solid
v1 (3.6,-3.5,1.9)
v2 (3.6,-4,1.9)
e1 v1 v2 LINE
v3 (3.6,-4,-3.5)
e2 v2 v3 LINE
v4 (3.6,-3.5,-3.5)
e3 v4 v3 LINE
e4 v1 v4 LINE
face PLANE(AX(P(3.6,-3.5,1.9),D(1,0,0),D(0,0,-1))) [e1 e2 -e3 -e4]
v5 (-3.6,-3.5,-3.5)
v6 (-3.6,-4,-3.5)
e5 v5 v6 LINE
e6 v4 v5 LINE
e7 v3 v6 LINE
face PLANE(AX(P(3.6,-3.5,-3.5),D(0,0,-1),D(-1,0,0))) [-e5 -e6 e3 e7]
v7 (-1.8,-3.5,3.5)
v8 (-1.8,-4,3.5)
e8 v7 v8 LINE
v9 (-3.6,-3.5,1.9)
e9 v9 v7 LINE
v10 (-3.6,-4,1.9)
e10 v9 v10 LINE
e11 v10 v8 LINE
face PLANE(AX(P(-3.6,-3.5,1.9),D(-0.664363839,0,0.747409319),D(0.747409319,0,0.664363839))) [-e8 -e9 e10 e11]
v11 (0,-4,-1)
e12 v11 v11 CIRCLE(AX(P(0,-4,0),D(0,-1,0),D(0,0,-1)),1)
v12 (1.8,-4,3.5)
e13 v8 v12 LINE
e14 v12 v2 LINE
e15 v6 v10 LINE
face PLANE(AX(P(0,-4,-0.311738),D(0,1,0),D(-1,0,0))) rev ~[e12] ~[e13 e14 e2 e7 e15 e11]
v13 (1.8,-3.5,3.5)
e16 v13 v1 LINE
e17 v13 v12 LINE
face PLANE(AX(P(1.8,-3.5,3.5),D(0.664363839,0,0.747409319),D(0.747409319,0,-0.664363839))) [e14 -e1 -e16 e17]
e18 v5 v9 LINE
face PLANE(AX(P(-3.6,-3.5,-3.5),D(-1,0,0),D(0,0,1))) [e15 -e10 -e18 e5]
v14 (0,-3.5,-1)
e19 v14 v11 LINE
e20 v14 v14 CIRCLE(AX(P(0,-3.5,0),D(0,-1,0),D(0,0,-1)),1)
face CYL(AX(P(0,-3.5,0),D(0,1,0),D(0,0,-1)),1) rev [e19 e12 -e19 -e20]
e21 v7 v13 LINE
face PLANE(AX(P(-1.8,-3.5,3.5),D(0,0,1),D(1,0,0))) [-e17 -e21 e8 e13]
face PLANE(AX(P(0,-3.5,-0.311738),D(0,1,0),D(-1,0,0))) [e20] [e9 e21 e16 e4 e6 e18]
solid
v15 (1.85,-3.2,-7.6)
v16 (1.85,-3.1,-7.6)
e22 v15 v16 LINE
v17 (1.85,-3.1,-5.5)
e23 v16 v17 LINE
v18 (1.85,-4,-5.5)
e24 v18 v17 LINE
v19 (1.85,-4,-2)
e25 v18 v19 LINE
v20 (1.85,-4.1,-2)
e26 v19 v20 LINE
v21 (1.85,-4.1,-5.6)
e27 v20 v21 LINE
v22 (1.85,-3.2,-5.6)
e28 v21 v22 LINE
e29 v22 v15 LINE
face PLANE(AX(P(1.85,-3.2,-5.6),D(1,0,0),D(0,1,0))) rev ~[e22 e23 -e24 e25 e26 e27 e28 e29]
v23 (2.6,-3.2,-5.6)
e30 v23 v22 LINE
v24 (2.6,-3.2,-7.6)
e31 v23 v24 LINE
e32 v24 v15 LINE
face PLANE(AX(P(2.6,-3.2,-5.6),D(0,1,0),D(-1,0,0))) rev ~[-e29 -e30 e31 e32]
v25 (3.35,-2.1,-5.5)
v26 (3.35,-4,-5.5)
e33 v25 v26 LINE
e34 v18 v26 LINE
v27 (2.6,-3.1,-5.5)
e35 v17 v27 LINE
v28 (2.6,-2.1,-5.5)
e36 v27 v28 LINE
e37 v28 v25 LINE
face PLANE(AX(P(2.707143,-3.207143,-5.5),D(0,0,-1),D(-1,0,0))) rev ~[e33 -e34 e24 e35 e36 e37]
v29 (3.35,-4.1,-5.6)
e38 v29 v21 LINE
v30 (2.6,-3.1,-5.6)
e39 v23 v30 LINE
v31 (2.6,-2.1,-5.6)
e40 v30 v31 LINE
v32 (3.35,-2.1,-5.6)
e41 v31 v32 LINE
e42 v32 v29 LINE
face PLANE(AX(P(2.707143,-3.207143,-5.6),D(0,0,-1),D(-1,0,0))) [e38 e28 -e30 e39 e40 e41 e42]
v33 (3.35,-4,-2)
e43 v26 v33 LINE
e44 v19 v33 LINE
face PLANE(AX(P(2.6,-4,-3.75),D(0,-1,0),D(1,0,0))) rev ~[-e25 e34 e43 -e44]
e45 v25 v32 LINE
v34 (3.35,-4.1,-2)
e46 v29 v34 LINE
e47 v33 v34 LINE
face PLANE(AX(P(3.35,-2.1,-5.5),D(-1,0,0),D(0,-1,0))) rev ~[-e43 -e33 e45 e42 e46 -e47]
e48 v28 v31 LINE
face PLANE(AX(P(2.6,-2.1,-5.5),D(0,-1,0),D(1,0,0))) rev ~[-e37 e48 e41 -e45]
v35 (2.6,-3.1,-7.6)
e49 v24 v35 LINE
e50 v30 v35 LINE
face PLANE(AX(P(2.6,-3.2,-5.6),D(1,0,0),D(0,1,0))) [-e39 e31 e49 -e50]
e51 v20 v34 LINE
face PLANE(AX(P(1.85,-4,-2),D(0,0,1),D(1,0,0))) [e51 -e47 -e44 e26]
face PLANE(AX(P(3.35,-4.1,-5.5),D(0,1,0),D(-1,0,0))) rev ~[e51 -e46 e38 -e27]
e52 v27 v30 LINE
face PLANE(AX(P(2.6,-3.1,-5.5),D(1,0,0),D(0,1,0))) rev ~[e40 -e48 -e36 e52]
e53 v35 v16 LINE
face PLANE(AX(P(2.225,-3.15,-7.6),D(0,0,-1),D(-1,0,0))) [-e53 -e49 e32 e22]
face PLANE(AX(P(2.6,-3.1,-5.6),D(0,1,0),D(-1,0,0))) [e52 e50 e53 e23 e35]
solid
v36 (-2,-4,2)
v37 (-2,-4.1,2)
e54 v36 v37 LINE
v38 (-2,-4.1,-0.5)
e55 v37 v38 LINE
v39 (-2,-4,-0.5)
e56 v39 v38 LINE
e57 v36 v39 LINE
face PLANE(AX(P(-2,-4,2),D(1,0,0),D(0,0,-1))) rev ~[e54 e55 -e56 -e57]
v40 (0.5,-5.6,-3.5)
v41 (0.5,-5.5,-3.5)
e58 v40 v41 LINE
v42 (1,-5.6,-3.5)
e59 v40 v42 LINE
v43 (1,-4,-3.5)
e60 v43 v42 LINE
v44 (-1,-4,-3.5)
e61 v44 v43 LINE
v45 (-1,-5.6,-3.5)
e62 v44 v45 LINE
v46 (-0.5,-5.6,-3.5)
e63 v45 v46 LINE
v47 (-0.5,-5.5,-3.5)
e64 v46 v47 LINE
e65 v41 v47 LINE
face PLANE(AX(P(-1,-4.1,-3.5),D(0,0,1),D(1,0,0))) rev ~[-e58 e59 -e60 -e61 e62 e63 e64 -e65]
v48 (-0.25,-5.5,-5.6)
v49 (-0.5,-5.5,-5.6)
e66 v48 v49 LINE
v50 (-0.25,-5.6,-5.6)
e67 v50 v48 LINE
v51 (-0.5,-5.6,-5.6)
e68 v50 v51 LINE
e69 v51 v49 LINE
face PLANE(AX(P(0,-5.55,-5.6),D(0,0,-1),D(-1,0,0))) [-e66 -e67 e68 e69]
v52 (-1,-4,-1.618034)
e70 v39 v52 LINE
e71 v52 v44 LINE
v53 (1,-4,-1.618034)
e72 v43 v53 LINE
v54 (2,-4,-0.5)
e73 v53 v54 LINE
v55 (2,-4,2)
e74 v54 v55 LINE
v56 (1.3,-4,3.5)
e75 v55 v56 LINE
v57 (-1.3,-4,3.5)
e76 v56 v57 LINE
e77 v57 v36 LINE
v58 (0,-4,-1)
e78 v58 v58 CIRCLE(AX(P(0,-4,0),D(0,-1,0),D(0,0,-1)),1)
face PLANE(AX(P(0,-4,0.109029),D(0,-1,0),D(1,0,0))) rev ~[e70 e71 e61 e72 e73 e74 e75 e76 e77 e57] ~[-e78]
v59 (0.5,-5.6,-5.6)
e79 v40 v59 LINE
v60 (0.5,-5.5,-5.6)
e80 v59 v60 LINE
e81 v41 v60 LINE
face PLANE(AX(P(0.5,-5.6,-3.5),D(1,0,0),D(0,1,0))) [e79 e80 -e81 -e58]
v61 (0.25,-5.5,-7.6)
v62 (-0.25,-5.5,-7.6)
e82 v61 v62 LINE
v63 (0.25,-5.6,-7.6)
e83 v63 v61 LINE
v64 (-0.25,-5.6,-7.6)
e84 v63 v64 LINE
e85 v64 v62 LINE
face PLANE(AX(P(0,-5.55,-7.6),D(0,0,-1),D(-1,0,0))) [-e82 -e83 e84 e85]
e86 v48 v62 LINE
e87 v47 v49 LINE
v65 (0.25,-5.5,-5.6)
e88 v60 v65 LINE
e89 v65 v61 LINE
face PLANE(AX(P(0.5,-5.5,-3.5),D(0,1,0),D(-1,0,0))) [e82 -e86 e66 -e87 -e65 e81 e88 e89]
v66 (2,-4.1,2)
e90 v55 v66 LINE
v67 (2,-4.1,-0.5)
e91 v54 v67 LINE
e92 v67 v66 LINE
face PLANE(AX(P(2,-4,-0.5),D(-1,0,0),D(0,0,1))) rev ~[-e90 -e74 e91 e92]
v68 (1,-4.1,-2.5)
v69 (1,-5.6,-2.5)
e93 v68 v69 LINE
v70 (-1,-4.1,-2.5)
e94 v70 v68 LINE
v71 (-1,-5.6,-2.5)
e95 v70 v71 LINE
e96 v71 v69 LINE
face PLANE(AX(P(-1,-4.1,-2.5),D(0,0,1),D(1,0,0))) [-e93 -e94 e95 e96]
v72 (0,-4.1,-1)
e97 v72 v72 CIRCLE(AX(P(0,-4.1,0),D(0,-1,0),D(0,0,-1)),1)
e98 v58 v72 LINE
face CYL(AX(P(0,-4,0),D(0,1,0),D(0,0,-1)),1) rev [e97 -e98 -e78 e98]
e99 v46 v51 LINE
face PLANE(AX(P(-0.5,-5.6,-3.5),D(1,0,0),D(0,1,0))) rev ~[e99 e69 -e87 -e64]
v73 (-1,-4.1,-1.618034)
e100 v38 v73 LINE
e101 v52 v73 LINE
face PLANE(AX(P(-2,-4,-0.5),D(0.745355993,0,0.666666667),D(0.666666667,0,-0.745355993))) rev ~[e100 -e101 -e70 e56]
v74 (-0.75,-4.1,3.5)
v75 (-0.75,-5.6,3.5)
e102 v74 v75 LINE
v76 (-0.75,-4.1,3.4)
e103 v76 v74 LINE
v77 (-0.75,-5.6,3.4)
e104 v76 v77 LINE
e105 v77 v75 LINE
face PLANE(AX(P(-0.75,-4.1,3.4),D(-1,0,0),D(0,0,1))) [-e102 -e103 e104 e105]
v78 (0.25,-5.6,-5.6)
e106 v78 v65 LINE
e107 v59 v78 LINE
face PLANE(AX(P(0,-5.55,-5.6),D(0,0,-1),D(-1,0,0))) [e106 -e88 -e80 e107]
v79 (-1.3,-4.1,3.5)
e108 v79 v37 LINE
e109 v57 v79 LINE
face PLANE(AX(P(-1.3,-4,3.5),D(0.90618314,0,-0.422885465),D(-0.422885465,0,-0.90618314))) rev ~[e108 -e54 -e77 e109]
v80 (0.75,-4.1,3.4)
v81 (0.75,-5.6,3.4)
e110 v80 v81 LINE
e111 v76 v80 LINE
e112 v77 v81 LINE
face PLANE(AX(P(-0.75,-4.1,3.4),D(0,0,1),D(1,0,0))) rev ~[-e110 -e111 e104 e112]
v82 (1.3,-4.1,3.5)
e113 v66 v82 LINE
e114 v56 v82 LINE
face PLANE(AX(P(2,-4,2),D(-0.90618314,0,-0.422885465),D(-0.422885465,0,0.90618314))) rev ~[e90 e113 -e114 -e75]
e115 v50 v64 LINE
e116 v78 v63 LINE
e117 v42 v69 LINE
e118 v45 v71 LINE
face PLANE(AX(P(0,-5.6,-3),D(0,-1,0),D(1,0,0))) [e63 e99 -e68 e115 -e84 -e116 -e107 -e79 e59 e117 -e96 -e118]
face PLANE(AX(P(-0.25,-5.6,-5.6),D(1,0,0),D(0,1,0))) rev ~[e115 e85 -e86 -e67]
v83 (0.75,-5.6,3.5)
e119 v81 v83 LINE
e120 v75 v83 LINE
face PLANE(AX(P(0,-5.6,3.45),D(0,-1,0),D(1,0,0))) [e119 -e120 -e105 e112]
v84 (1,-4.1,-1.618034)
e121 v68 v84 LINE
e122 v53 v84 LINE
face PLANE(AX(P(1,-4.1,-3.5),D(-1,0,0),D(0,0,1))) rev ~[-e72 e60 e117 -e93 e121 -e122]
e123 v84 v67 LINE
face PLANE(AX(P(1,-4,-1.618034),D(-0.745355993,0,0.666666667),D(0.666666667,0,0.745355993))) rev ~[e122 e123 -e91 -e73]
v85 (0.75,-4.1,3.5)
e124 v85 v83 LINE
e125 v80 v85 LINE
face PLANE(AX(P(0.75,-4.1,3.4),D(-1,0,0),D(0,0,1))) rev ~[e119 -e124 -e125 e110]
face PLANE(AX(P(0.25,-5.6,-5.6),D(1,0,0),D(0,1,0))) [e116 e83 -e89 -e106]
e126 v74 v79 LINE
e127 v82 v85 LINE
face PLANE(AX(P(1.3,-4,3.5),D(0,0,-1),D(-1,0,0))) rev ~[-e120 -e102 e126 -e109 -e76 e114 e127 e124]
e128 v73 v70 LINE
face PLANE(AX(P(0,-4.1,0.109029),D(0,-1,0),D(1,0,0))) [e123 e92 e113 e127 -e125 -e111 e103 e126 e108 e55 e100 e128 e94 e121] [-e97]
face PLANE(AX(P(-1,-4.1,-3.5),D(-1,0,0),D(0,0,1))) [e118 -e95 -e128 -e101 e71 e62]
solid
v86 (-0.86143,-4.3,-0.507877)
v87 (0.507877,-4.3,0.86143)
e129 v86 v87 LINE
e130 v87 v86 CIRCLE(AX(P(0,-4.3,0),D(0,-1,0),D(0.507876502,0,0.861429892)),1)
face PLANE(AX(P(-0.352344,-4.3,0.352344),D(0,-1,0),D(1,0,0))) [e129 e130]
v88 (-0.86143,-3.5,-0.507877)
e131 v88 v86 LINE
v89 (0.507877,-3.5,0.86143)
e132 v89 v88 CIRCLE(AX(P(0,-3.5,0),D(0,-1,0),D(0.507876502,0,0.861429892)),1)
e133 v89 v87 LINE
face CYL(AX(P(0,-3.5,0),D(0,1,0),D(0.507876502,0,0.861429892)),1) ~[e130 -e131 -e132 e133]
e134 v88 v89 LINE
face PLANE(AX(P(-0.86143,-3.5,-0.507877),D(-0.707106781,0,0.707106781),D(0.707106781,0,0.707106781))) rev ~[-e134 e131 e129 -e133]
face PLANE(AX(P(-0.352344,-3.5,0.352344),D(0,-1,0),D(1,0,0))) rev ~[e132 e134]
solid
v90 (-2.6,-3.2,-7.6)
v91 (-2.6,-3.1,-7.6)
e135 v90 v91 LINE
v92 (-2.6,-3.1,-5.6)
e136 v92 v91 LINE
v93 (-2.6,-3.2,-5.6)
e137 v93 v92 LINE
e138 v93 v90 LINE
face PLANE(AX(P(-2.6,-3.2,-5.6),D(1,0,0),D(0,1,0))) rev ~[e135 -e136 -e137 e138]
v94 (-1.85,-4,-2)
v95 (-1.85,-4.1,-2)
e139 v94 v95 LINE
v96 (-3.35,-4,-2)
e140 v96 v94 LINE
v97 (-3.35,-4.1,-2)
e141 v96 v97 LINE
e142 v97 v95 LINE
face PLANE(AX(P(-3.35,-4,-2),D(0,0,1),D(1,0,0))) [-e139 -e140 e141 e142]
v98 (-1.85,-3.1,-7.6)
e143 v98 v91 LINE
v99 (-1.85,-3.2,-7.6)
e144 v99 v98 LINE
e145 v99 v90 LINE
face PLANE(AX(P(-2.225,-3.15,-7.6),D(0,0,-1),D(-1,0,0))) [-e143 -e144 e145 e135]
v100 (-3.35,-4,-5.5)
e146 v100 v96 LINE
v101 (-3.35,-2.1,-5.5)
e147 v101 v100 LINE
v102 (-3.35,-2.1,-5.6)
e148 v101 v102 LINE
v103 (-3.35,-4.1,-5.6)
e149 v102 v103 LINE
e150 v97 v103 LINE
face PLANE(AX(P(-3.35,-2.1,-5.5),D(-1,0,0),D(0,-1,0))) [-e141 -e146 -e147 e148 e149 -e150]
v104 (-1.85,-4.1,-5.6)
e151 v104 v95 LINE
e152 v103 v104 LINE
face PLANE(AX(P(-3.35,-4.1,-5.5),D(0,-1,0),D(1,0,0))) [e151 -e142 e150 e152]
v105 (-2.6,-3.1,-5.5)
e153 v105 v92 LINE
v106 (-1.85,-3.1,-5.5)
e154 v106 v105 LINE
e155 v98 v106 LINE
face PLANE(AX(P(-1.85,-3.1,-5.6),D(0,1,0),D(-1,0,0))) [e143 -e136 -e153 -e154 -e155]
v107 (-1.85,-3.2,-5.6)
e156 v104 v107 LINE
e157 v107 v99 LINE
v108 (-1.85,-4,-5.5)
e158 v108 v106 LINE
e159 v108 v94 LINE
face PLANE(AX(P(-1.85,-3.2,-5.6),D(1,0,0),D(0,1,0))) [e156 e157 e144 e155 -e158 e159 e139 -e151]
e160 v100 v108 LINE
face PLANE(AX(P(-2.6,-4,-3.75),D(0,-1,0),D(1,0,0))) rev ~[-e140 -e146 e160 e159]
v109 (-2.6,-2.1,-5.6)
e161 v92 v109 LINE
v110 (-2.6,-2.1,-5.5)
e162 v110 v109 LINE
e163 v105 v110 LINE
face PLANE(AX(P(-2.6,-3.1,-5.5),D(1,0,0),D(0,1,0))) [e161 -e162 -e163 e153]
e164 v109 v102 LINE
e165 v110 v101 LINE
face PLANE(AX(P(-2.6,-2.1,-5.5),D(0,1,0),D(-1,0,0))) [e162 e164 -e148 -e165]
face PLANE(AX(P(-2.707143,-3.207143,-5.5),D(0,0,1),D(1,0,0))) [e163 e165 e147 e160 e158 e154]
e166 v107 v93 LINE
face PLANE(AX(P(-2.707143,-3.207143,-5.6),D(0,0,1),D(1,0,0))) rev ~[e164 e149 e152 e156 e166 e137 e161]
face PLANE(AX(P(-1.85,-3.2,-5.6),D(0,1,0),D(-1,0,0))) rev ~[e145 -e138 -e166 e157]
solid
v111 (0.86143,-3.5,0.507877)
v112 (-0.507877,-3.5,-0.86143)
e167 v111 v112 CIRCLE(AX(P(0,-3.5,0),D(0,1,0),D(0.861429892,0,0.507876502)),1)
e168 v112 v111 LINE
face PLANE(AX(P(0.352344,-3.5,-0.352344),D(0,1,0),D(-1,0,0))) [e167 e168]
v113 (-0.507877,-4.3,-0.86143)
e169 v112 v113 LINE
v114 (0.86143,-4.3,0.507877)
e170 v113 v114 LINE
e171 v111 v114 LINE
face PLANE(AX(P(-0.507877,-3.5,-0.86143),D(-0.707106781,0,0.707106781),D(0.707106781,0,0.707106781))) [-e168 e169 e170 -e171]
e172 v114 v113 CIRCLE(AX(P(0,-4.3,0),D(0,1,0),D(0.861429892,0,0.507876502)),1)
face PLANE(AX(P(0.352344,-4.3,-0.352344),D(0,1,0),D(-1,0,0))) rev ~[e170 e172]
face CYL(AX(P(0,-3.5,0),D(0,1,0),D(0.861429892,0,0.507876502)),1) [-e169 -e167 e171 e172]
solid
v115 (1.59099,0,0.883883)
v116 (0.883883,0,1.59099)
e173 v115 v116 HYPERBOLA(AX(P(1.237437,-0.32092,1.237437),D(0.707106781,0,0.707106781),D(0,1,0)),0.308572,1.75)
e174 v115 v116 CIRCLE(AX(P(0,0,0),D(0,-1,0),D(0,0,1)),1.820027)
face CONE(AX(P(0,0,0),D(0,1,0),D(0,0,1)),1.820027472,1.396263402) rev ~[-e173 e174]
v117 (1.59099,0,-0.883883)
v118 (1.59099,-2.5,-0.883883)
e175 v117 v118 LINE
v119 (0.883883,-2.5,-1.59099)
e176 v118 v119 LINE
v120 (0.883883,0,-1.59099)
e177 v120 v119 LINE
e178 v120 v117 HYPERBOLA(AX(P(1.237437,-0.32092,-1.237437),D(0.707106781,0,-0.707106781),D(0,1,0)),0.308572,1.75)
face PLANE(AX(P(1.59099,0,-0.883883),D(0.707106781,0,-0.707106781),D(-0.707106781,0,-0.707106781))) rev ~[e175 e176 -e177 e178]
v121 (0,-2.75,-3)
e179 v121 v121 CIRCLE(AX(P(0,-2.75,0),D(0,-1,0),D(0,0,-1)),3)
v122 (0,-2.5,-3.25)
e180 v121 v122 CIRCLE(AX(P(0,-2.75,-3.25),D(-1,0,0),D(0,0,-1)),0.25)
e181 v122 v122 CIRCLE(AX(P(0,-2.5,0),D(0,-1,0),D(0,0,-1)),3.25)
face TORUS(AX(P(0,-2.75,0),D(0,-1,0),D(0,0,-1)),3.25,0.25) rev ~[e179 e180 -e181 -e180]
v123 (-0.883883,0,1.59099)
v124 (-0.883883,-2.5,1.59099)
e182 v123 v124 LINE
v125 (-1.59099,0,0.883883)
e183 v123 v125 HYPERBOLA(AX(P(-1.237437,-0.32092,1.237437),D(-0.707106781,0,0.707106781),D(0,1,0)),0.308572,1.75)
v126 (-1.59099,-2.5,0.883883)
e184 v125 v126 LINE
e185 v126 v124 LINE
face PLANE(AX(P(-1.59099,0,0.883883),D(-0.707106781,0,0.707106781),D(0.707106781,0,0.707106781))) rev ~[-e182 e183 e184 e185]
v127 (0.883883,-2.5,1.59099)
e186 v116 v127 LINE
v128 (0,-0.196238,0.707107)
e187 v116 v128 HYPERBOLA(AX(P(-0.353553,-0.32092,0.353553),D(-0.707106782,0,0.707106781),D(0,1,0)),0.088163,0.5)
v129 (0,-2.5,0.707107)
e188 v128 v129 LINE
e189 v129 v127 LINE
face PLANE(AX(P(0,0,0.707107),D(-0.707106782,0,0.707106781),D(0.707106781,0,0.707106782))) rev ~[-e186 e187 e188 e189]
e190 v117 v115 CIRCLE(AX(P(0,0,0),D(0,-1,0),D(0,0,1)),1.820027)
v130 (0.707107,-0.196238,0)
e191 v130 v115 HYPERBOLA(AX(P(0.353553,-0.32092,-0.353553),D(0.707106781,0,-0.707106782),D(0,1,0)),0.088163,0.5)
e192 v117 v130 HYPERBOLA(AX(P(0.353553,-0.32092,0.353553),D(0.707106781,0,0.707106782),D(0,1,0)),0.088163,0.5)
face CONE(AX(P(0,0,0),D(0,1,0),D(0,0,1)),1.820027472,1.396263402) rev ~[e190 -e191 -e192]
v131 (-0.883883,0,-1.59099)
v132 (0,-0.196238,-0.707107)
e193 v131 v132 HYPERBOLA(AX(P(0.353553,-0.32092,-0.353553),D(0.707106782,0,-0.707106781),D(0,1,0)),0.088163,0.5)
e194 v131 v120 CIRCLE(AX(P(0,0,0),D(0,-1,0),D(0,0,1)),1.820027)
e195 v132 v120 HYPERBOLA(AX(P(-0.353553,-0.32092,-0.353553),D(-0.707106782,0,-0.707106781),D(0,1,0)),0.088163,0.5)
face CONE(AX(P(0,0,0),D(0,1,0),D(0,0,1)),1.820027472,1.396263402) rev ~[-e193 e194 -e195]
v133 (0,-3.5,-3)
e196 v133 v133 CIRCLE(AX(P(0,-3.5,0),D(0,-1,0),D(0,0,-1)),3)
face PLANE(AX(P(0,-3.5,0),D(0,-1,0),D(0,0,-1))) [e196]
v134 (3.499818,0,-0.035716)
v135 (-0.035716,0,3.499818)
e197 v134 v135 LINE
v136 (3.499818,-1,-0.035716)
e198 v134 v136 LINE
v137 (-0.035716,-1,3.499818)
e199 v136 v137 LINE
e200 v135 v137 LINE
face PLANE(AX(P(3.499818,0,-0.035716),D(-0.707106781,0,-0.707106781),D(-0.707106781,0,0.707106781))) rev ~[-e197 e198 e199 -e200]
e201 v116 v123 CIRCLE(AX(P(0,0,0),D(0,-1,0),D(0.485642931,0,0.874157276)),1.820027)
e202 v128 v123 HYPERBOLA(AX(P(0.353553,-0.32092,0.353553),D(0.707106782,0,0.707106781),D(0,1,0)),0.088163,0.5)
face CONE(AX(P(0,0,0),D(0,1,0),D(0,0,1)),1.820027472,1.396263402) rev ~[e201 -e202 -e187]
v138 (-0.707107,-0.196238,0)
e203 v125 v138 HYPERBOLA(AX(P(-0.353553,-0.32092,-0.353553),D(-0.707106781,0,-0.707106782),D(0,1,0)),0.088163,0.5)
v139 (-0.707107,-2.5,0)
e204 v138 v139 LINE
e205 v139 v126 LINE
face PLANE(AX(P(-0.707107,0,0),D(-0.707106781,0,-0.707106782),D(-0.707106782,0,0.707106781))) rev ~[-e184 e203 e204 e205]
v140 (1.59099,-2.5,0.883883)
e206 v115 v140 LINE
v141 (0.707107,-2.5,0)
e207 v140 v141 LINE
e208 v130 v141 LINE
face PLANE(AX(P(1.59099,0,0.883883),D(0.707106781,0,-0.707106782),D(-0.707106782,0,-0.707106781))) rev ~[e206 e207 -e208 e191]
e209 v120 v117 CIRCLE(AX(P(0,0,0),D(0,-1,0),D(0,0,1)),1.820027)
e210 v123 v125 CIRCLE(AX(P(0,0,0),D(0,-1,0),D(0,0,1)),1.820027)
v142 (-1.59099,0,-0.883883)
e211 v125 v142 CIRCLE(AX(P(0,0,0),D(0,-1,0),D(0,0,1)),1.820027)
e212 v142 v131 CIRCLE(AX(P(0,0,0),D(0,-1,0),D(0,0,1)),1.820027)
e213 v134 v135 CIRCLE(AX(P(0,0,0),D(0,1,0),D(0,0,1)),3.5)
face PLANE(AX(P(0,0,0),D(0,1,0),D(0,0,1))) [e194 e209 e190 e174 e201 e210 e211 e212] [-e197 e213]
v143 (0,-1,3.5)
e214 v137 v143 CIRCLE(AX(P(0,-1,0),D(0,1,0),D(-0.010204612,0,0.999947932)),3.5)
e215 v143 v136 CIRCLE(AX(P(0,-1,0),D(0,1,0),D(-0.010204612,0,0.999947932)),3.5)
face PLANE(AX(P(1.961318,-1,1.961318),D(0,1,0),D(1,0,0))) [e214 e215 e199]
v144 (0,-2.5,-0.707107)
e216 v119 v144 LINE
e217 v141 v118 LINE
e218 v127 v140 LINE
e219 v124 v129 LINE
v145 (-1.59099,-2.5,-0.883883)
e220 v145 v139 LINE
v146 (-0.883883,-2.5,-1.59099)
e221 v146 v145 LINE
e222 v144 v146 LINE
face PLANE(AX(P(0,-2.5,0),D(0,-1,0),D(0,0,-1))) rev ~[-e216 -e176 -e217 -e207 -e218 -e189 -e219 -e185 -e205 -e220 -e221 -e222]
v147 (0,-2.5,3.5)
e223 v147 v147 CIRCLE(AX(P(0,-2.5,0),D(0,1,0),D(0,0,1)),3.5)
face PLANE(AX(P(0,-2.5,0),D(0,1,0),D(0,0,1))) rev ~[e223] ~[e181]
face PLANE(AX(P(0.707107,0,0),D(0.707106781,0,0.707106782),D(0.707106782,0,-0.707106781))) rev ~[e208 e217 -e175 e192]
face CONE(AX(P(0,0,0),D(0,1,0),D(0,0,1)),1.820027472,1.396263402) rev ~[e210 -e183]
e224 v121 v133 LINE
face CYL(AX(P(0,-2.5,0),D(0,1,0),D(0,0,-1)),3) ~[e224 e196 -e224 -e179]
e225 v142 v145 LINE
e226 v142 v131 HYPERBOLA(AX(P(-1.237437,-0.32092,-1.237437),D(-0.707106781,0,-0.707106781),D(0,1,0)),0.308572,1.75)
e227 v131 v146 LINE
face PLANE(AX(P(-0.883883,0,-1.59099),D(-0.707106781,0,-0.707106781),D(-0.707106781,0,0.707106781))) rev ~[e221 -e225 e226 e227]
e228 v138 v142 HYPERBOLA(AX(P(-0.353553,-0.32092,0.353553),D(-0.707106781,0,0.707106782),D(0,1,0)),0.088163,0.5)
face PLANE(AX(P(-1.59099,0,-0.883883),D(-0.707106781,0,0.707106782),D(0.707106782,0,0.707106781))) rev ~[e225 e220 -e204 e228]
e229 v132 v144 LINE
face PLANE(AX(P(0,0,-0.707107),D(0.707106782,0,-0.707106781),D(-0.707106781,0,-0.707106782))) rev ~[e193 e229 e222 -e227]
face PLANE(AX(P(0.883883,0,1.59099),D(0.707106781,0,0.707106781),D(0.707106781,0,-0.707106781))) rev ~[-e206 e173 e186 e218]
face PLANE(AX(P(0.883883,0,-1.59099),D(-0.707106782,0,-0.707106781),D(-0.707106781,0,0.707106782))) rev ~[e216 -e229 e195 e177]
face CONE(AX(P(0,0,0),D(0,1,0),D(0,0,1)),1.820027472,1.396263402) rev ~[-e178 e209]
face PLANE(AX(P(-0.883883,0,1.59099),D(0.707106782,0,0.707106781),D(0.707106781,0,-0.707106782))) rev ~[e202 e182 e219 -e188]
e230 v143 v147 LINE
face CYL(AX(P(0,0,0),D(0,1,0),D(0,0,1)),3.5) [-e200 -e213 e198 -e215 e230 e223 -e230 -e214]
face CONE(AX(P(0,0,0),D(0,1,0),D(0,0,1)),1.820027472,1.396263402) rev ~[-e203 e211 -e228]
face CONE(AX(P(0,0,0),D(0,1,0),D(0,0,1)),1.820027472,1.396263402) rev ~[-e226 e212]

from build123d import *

# Parameters (mm, degrees)
SKETCH1_R              = 3.5
BOSS_EXTRUDE1_DEPTH    = 2.5
CUT_EXTRUDE1_DEPTH     = 1
SKETCH4_R              = 3
BOSS_EXTRUDE2_DEPTH    = 1
FILLET1_R              = 0.25
SKETCH5_R              = 1
BOSS_EXTRUDE3_DEPTH    = 0.5
SKETCH6_R              = 1
BOSS_EXTRUDE4_DEPTH    = 0.1
SKETCH6_W              = 1.5
SKETCH6_H              = 3.5
BOSS_EXTRUDE4_2_DEPTH  = 0.1
BOSS_EXTRUDE4_3_DEPTH  = 0.1
SKETCH7_W              = 1.5
SKETCH7_H              = 0.1
SKETCH7_W_2            = 2
SKETCH7_H_2            = 1
BOSS_EXTRUDE5_DEPTH    = 1.5
BOSS_EXTRUDE6_DEPTH    = 0.1
SKETCH9_W              = 0.75
SKETCH9_H              = 0.1
BOSS_EXTRUDE7_DEPTH    = 2
SKETCH11_W             = 1
SKETCH11_H             = 0.1
BOSS_EXTRUDE8_DEPTH    = 2.1
SKETCH12_W             = 0.5
SKETCH12_H             = 0.1
BOSS_EXTRUDE9_DEPTH    = 2
BOSS_EXTRUDE10_DEPTH   = 0.8
BOSS_EXTRUDE10_2_DEPTH = 0.8


with BuildPart() as part:
    # Sketch1 → Boss-Extrude1 (new body)
    with BuildSketch(Plane(origin=(0, 0, 0), x_dir=(1, 0, 0), z_dir=(0, 1, 0))):
        with Locations(Location((0, 0, 0), (0, 0, 270))):
            Circle(SKETCH1_R)
        Polygon((0.883883476, 1.590990258), (0, 0.707106781), (-0.883883476, 1.590990258), (-1.590990258, 0.883883476), (-0.707106781, 0), (-1.590990258, -0.883883476), (-0.883883476, -1.590990258), (0, -0.707106781), (0.883883476, -1.590990258), (1.590990258, -0.883883476), (0.707106781, 0), (1.590990258, 0.883883476), align=None, mode=Mode.SUBTRACT)
    extrude(amount=-BOSS_EXTRUDE1_DEPTH)

    # Sketch2 → Cut-Extrude1 (cut)
    with BuildSketch(Plane(origin=(0, 0, 0), x_dir=(1, 0, 0), z_dir=(0, 1, 0))):
        with BuildLine():
            Line((3.499817761, 0.035716145), (-0.035716145, -3.499817761))
            ThreePointArc((-0.035716145, -3.499817761), (2.474873734, -2.474873734), (3.499817761, 0.035716145))
        make_face()
    extrude(amount=-CUT_EXTRUDE1_DEPTH, mode=Mode.SUBTRACT)

    # Cut-Extrude2 cone 1 section (through the dimple's axis) → Cut-Extrude2 (revolve, cut)
    with BuildSketch(Plane(origin=(0, 0, 0), x_dir=(0, 0, 1), z_dir=(1, 0, 0))):
        Polygon((0, 0), (1.820027472, 0), (0, 0.320919949), align=None)
    revolve(axis=Axis((0, 0, 0), (0, -1, 0)), mode=Mode.SUBTRACT)

    # Sketch4 → Boss-Extrude2 (add)
    with BuildSketch(Plane.XZ.offset(2.5)):
        with Locations(Location((0, 0, 0), (0, 0, 270))):
            Circle(SKETCH4_R)
    extrude(amount=BOSS_EXTRUDE2_DEPTH)

    # Fillet1
    fillet1_edges = [part.edges().sort_by_distance(p)[0] for p in [
        (0, -2.5, 3),
    ]]
    fillet(fillet1_edges, radius=FILLET1_R)


with BuildPart() as body_2:
    # Sketch5 → Boss-Extrude3 (new body)
    with BuildSketch(Plane.XZ.offset(3.5)):
        Polygon((1.8, 3.5), (3.6, 1.9), (3.6, -3.5), (-3.6, -3.5), (-3.6, 1.9), (-1.8, 3.5), align=None)
        with Locations(Location((0, 0, 0), (0, 0, 270))):
            Circle(SKETCH5_R, mode=Mode.SUBTRACT)
    extrude(amount=BOSS_EXTRUDE3_DEPTH)


with BuildPart() as body_3:
    # Sketch6 → Boss-Extrude4 (new body)
    with BuildSketch(Plane.XZ.offset(4)):
        Polygon((-1.3, 3.5), (-2, 2), (-2, -0.5), (-1, -1.618033989), (-1, -3.5), (1, -3.5), (1, -1.618033989), (2, -0.5), (2, 2), (1.3, 3.5), align=None)
        with Locations(Location((0, 0, 0), (0, 0, 270))):
            Circle(SKETCH6_R, mode=Mode.SUBTRACT)
    extrude(amount=BOSS_EXTRUDE4_DEPTH)

    # Sketch7 → Boss-Extrude5 (add)
    with BuildSketch(Plane.XZ.offset(4.1)):
        with Locations((0, 3.45)):
            Rectangle(SKETCH7_W, SKETCH7_H)
        with Locations((0, -3)):
            Rectangle(SKETCH7_W_2, SKETCH7_H_2)
    extrude(amount=BOSS_EXTRUDE5_DEPTH)

    # Sketch11 → Boss-Extrude8 (add)
    with BuildSketch(Plane(origin=(0, 0, -3.5), x_dir=(-1, 0, 0), z_dir=(0, 0, -1))):
        with Locations((0, -5.55)):
            Rectangle(SKETCH11_W, SKETCH11_H)
    extrude(amount=BOSS_EXTRUDE8_DEPTH)

    # Sketch12 → Boss-Extrude9 (add)
    with BuildSketch(Plane(origin=(0, 0, -5.6), x_dir=(-1, 0, 0), z_dir=(0, 0, -1))):
        with Locations((0, -5.55)):
            Rectangle(SKETCH12_W, SKETCH12_H)
    extrude(amount=BOSS_EXTRUDE9_DEPTH)


with BuildPart() as body_4:
    # Sketch6 → Boss-Extrude4 2 (new body)
    with BuildSketch(Plane.XZ.offset(4)):
        with Locations((-2.6, -3.75)):
            Rectangle(SKETCH6_W, SKETCH6_H)
    extrude(amount=BOSS_EXTRUDE4_2_DEPTH)



with BuildPart() as body_5:
    # Sketch6 → Boss-Extrude4 3 (new body)
    with BuildSketch(Plane.XZ.offset(4)):
        with Locations((2.6, -3.75)):
            Rectangle(SKETCH6_W, SKETCH6_H)
    extrude(amount=BOSS_EXTRUDE4_3_DEPTH)


with BuildPart() as body_4_1:
    add(body_4.part)

    add(body_5.part)  # Boss-Extrude6 merges body 5
    # Sketch8 → Boss-Extrude6 (add)
    with BuildSketch(Plane(origin=(0, 0, -5.5), x_dir=(-1, 0, 0), z_dir=(0, 0, -1))):
        Polygon((-3.35, -4.1), (-1.85, -4.1), (-1.85, -3.1), (-2.6, -3.1), (-2.6, -2.1), (-3.35, -2.1), align=None)
        Polygon((3.35, -4.1), (1.85, -4.1), (1.85, -3.1), (2.6, -3.1), (2.6, -2.1), (3.35, -2.1), align=None)
    extrude(amount=BOSS_EXTRUDE6_DEPTH)

    # Sketch9 → Boss-Extrude7 (add)
    with BuildSketch(Plane(origin=(0, 0, -5.6), x_dir=(-1, 0, 0), z_dir=(0, 0, -1))):
        with Locations((-2.225, -3.15)):
            Rectangle(SKETCH9_W, SKETCH9_H)
        with Locations((2.225, -3.15)):
            Rectangle(SKETCH9_W, SKETCH9_H)
    extrude(amount=BOSS_EXTRUDE7_DEPTH)


with BuildPart() as body_5_2:
    # Sketch13 → Boss-Extrude10 (new body)
    with BuildSketch(Plane.XZ.offset(3.5)):
        with BuildLine():
            Line((-0.507876502, -0.861429892), (0.861429892, 0.507876502))
            ThreePointArc((0.861429892, 0.507876502), (0.707106781, -0.707106781), (-0.507876502, -0.861429892))
        make_face()
    extrude(amount=BOSS_EXTRUDE10_DEPTH)


with BuildPart() as body_6:
    # Sketch13 → Boss-Extrude10 2 (new body)
    with BuildSketch(Plane.XZ.offset(3.5)):
        with BuildLine():
            Line((-0.861429892, -0.507876502), (0.507876502, 0.861429892))
            ThreePointArc((0.507876502, 0.861429892), (-0.707106781, 0.707106781), (-0.861429892, -0.507876502))
        make_face()
    extrude(amount=BOSS_EXTRUDE10_2_DEPTH)


solid = Compound([part.part, body_2.part, body_3.part, body_4_1.part, body_5_2.part, body_6.part])
